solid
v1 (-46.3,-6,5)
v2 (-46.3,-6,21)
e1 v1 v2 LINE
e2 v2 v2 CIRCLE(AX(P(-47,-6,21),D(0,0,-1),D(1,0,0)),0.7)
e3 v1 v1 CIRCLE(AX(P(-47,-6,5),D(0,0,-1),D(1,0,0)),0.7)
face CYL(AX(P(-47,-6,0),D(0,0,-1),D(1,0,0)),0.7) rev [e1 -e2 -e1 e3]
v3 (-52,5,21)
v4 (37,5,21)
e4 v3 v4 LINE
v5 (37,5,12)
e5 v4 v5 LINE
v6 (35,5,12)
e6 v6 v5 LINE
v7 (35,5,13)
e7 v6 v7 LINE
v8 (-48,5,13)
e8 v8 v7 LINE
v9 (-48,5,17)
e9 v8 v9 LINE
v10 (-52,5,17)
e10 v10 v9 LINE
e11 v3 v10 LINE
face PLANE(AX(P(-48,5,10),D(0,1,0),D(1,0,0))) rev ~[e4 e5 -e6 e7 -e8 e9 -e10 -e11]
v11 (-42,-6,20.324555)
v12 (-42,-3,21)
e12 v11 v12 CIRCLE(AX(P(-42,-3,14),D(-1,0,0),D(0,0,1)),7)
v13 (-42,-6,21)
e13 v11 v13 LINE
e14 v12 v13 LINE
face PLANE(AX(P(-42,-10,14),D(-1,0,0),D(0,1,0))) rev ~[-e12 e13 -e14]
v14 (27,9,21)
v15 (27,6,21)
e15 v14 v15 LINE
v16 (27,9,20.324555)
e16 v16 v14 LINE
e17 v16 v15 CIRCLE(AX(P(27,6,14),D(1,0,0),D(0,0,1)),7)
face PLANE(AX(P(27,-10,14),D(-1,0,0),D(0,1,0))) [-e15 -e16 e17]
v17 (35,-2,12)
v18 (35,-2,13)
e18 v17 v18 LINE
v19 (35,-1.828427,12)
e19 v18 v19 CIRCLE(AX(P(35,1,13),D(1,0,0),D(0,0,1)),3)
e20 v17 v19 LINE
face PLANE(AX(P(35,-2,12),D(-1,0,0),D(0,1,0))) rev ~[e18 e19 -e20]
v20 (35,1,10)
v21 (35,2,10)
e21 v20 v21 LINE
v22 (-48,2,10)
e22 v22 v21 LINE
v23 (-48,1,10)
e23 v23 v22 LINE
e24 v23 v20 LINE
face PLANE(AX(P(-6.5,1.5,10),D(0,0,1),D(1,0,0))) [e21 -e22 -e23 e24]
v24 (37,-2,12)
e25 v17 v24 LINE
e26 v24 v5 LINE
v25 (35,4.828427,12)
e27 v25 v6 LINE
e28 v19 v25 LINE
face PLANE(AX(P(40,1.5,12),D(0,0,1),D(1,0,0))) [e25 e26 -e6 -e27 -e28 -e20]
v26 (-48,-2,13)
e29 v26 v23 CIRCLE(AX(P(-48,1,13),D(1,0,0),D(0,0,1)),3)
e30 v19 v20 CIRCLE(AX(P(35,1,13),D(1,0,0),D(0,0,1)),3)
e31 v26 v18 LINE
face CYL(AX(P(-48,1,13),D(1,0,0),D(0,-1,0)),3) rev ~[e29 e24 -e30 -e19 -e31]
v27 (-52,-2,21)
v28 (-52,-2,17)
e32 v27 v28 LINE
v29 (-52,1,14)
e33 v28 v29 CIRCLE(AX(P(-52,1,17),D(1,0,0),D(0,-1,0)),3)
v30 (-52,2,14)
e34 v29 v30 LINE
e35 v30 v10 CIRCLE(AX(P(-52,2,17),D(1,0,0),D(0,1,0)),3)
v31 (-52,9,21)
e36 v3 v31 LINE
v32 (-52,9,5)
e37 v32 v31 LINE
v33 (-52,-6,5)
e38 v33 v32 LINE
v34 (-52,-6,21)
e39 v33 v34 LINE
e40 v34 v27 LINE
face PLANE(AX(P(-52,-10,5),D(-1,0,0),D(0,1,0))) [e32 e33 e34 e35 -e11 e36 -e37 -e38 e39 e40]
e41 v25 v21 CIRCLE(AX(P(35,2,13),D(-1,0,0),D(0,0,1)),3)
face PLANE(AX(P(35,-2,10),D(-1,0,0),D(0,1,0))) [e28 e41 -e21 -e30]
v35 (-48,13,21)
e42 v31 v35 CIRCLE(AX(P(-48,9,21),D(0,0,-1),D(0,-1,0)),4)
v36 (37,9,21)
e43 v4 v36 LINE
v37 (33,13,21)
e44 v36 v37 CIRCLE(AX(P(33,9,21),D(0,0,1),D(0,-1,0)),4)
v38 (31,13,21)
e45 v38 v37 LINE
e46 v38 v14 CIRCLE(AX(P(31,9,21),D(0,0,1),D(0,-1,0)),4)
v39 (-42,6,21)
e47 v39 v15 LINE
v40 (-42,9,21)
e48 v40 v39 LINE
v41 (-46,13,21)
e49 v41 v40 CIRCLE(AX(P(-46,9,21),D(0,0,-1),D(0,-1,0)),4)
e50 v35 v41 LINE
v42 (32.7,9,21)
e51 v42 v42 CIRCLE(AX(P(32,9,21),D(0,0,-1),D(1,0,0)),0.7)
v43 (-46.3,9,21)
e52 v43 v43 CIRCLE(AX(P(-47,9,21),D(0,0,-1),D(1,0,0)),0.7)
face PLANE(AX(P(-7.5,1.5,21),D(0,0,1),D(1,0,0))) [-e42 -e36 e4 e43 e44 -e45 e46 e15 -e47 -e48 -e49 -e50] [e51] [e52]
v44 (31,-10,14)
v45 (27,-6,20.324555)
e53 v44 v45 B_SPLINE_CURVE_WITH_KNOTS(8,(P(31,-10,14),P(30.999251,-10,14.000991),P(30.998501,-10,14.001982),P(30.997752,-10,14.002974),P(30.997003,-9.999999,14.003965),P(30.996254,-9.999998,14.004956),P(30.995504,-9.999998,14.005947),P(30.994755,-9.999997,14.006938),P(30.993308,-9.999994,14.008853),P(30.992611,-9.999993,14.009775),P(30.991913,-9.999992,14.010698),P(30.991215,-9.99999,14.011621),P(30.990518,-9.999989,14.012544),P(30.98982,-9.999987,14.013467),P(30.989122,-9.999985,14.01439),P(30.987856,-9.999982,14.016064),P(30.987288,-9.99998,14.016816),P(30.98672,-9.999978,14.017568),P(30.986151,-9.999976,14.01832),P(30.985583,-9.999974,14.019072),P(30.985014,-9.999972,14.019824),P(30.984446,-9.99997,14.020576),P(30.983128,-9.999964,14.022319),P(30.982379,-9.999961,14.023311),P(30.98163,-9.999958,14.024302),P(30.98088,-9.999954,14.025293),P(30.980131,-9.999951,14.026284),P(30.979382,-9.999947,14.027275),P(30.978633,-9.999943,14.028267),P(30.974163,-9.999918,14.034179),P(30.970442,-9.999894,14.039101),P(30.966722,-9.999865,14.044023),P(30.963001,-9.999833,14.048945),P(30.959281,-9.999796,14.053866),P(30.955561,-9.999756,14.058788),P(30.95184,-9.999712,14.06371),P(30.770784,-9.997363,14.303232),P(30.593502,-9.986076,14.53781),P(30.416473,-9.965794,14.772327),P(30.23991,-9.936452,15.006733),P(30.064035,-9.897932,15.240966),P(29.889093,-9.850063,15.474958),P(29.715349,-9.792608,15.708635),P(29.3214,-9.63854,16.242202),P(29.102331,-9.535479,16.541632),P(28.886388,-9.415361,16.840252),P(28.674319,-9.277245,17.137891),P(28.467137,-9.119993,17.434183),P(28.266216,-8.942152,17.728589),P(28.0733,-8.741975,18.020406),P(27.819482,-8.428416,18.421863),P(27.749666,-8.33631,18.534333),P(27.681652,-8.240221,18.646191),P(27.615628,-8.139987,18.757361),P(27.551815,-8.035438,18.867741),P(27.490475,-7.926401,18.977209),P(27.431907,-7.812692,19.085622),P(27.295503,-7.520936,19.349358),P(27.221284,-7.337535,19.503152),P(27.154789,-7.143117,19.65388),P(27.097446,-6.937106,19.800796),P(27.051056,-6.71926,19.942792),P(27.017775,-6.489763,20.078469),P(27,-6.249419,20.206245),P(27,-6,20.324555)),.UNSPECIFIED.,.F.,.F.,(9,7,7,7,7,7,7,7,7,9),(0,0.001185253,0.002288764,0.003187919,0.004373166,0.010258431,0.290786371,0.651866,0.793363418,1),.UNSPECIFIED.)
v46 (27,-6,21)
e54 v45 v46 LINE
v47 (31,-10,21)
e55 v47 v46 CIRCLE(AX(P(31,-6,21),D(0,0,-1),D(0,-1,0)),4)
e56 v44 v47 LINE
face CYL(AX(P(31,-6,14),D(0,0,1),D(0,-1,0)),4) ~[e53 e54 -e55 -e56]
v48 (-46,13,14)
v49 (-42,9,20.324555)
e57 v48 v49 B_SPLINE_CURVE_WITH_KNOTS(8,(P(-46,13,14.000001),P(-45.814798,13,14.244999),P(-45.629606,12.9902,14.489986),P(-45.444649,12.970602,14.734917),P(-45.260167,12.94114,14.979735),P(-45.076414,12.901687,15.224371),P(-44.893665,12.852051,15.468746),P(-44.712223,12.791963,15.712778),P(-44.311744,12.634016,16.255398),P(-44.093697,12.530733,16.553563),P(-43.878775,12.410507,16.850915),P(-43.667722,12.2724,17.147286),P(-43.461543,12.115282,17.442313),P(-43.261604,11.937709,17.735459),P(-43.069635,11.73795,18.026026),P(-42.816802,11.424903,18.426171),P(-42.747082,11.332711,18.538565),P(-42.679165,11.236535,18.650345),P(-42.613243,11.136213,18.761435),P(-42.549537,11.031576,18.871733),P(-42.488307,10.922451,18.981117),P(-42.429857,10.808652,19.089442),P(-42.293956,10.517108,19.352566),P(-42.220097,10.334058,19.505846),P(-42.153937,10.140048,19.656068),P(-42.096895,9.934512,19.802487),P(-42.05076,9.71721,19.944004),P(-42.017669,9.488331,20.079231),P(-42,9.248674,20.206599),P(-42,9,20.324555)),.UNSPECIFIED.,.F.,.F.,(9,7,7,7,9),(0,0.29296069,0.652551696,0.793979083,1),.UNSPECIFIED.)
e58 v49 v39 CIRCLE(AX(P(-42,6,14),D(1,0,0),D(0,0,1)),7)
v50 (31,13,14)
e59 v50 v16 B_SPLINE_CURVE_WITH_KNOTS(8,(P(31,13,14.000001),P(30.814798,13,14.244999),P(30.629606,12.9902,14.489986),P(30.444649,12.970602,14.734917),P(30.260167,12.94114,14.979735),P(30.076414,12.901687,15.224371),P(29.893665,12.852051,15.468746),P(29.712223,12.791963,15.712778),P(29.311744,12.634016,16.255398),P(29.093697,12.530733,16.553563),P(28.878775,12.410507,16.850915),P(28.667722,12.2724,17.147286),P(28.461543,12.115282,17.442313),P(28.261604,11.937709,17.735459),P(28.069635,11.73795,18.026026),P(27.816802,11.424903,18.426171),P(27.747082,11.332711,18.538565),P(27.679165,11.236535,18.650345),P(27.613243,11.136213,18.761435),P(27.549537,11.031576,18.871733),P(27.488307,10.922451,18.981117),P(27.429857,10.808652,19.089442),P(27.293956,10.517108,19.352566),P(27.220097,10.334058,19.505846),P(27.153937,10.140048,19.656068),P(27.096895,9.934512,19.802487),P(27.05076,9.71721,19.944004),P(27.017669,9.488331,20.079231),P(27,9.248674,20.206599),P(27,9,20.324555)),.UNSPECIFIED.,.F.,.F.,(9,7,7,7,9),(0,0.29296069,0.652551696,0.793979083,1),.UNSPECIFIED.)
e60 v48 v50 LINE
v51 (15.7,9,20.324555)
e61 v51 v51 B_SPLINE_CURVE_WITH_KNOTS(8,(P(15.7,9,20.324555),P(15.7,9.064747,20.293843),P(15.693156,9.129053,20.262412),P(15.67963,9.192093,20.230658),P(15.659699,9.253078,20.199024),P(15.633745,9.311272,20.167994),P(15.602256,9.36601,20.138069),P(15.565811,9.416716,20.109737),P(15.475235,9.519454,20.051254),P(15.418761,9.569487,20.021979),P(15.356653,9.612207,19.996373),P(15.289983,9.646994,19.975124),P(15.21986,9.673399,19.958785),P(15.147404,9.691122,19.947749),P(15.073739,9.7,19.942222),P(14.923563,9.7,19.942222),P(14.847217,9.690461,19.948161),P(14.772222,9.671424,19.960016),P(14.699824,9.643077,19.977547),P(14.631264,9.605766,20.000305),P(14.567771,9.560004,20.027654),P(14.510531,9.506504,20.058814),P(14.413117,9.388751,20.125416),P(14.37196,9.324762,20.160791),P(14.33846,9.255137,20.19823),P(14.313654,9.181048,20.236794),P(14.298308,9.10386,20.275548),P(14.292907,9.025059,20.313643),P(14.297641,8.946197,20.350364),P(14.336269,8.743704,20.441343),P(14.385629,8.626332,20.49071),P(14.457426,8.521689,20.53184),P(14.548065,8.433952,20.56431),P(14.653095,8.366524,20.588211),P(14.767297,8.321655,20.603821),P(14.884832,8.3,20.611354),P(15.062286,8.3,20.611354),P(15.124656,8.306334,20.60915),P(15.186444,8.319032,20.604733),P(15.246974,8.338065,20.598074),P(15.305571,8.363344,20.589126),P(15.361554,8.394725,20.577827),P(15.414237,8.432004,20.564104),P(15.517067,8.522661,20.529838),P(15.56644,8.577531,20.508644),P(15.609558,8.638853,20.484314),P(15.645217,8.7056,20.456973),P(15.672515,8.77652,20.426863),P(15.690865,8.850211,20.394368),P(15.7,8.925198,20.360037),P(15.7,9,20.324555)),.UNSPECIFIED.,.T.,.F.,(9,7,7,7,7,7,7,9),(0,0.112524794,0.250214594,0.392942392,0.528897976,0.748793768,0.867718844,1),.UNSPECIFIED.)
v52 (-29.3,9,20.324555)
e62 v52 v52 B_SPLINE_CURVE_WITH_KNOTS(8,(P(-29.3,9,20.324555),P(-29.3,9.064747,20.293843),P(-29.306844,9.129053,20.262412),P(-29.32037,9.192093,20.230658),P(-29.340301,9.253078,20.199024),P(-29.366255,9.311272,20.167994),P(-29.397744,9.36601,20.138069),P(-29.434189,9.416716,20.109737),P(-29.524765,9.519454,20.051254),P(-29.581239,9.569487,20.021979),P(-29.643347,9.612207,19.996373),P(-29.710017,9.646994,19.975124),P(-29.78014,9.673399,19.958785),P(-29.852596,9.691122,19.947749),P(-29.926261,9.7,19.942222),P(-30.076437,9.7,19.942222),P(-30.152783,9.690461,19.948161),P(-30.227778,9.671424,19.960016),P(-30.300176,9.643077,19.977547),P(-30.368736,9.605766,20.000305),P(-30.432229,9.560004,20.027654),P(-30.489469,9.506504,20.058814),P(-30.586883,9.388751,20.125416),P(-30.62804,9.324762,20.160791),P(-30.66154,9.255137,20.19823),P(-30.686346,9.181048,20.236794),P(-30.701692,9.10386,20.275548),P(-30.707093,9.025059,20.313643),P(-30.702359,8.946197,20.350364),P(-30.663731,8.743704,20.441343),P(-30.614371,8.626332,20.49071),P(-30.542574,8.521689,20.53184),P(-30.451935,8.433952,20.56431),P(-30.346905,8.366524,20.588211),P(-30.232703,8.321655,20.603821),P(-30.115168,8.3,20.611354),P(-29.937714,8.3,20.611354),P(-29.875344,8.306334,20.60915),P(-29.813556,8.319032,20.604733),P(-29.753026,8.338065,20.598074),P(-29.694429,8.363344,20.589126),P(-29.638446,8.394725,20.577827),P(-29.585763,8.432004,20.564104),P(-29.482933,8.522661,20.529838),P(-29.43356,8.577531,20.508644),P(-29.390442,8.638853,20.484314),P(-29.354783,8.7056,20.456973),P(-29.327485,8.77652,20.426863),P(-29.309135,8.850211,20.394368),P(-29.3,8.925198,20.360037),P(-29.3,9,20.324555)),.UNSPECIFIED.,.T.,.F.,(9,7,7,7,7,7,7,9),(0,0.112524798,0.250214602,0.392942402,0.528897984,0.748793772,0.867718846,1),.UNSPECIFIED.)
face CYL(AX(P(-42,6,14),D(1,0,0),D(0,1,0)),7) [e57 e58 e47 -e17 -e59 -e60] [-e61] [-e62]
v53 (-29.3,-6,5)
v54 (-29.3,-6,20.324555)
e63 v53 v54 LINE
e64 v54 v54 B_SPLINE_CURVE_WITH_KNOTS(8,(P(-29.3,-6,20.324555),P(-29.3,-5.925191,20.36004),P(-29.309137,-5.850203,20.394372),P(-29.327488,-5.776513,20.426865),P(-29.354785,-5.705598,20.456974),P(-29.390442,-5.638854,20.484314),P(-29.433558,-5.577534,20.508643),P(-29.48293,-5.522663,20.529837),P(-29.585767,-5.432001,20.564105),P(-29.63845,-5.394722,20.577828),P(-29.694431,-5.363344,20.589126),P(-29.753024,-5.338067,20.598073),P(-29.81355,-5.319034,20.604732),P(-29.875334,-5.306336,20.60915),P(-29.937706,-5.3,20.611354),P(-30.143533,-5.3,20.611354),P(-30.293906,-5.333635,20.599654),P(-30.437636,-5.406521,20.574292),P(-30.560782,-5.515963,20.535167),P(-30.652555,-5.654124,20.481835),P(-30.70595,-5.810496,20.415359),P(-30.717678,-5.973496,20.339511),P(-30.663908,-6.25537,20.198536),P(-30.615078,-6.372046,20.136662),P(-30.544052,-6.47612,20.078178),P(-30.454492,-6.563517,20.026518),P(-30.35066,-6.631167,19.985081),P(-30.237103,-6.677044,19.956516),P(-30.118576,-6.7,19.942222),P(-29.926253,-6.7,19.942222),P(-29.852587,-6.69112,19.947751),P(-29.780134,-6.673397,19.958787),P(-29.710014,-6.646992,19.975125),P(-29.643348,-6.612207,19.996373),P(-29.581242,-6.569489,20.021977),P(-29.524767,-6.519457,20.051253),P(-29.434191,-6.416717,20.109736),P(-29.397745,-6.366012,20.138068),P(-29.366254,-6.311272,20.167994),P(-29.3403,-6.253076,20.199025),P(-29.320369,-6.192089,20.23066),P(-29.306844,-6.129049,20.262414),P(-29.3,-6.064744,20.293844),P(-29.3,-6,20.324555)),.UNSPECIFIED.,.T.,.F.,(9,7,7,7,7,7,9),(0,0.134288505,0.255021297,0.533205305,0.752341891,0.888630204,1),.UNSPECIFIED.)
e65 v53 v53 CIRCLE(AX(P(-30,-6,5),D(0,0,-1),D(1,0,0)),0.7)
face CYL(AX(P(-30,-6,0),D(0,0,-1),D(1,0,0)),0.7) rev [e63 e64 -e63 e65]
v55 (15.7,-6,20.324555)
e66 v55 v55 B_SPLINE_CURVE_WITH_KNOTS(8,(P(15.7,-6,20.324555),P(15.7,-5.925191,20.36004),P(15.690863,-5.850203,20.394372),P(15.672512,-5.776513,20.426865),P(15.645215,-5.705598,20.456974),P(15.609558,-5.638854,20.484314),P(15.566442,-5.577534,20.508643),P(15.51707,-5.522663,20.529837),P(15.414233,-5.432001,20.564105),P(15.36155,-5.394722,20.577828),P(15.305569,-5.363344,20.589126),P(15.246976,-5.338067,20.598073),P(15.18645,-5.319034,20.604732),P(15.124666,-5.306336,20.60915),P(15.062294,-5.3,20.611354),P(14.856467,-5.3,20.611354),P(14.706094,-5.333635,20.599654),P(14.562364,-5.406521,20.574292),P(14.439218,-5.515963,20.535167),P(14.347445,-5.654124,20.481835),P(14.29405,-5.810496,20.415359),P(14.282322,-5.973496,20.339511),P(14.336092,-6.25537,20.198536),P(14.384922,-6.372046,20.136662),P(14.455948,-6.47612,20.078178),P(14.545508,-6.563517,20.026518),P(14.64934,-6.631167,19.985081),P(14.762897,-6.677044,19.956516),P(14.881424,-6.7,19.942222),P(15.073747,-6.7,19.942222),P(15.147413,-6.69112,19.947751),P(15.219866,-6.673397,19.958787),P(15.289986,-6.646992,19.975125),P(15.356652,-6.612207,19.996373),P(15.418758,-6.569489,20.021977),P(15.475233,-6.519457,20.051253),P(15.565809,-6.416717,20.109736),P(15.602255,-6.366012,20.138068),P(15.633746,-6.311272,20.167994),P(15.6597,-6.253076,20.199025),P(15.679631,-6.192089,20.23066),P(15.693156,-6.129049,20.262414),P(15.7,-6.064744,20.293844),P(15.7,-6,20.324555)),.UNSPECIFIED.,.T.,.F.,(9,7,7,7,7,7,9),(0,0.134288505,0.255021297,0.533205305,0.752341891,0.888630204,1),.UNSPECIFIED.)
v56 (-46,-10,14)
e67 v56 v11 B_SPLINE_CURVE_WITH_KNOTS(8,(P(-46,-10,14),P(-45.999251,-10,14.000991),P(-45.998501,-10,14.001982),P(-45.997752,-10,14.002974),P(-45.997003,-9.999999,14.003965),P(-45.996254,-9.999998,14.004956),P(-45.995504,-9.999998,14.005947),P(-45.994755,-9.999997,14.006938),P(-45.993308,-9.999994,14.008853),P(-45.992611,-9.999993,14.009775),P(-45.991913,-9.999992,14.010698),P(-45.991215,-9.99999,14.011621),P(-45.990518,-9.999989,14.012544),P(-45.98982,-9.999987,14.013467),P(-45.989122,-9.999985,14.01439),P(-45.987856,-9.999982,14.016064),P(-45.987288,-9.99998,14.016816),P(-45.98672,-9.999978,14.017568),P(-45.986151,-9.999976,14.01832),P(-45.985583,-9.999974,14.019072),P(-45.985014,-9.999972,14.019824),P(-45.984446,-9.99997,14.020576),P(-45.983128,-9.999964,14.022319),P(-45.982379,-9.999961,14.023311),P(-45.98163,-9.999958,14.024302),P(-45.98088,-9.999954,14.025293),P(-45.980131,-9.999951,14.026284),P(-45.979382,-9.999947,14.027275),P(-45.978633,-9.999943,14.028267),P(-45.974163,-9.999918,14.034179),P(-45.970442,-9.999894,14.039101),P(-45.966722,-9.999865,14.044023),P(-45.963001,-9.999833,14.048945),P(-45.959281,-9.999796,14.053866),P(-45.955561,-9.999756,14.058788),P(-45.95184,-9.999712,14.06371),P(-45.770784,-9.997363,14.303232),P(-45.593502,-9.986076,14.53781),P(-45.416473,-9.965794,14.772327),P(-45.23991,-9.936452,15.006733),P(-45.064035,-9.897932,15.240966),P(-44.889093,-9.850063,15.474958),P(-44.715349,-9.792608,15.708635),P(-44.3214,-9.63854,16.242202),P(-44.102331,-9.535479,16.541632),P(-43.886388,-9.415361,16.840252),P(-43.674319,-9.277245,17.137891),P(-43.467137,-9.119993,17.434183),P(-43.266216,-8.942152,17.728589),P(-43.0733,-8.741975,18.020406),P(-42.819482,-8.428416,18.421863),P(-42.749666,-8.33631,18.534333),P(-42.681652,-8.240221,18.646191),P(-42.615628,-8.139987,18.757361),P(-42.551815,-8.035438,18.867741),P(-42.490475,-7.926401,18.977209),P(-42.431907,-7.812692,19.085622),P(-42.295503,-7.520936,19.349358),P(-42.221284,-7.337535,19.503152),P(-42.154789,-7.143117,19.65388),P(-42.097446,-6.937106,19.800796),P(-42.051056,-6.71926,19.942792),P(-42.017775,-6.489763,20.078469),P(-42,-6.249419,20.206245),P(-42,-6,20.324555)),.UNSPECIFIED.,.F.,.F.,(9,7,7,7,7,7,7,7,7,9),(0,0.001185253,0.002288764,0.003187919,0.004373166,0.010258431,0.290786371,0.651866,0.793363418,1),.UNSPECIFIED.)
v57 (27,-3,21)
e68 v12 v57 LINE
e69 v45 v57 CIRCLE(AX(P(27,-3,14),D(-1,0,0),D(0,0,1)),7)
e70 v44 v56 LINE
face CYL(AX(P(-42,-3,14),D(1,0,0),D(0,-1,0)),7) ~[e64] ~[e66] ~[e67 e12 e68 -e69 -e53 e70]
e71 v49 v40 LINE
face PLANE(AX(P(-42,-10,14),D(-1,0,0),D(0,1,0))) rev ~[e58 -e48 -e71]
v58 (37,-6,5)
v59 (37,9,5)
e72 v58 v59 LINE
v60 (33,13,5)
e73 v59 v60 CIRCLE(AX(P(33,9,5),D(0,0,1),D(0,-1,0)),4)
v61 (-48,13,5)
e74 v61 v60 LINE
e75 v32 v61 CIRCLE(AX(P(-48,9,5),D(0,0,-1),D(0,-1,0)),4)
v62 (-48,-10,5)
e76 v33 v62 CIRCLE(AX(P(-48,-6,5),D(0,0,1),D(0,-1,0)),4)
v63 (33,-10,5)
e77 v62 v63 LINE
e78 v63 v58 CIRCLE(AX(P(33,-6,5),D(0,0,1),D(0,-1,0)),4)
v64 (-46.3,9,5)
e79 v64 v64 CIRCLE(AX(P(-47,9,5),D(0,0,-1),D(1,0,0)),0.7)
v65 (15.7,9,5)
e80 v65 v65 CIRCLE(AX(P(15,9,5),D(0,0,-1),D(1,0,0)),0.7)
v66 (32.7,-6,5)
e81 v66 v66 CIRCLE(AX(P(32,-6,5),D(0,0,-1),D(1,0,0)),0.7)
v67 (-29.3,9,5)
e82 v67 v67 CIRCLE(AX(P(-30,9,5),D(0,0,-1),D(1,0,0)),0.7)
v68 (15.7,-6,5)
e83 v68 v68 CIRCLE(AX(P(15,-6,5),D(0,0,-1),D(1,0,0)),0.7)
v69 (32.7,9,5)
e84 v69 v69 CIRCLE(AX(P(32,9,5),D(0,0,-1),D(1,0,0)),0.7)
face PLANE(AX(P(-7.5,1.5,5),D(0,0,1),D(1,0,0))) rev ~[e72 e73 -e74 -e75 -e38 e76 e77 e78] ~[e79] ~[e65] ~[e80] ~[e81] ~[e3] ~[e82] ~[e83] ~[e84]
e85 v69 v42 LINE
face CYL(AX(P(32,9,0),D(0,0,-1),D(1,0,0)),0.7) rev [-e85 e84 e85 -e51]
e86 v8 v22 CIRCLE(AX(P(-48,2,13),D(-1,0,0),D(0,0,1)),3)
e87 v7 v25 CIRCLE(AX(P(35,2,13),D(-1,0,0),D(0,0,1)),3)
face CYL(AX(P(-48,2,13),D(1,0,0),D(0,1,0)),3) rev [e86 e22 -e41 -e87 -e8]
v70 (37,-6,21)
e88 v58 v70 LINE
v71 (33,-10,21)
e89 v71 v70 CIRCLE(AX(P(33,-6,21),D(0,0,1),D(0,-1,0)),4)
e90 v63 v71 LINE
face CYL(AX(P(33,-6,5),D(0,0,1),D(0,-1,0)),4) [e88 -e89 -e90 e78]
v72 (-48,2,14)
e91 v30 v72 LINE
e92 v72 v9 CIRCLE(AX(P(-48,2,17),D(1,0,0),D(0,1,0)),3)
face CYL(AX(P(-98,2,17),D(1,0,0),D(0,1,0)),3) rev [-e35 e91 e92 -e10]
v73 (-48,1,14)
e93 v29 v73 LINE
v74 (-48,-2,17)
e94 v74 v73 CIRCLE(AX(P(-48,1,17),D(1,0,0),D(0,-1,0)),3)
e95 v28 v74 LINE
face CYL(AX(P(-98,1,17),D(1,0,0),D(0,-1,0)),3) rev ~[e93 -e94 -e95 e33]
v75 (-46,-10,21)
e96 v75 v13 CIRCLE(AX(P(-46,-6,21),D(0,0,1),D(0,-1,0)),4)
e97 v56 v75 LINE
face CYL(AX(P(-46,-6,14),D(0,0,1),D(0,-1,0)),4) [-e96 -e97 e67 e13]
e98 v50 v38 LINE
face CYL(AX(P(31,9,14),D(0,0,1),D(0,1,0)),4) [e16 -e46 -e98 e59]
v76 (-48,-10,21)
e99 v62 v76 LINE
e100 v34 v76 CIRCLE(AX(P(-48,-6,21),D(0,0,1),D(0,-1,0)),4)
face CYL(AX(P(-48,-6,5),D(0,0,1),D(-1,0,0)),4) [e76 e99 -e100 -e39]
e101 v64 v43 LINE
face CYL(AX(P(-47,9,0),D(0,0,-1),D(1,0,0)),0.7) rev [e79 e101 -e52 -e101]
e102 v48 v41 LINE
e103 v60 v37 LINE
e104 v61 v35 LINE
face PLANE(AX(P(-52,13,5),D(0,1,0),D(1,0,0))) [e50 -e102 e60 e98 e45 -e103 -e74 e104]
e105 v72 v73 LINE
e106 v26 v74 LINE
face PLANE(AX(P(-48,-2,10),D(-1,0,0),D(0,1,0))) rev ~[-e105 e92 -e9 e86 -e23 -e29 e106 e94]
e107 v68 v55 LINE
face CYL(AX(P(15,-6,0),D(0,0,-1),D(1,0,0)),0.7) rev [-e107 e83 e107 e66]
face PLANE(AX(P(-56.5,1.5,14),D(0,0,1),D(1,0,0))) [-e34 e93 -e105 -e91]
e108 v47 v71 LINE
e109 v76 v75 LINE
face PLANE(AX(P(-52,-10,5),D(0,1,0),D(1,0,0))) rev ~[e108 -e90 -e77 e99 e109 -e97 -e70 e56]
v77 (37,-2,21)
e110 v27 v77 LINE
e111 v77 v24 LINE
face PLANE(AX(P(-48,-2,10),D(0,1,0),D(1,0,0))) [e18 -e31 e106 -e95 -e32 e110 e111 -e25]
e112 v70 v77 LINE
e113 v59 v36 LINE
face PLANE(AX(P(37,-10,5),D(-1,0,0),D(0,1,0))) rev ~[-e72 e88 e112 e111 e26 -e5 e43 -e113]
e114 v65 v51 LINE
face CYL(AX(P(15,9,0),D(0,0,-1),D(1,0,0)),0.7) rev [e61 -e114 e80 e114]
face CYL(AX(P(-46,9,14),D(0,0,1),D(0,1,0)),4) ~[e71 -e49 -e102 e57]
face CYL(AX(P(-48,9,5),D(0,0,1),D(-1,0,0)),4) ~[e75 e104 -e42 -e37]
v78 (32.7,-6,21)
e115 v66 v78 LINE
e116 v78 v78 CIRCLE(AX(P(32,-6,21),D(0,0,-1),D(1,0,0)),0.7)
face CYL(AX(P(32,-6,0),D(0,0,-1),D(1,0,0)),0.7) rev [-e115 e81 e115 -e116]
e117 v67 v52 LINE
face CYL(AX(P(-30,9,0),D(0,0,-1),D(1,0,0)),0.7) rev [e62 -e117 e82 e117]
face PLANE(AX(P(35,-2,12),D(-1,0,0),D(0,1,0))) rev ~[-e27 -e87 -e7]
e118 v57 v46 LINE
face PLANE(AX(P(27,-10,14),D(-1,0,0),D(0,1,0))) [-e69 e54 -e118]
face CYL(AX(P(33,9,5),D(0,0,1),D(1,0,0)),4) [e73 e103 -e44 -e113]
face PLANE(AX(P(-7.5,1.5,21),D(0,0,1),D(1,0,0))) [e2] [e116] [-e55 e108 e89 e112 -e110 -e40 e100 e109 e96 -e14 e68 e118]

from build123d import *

# Parameters (mm, degrees)
BOX_W             = 69
BOX_H             = 23
BOX_DEPTH         = 21
FILLET002039_R    = 7
BOX048_W          = 69
BOX048_H          = 23
BOX048_DEPTH      = 21
CYLINDER_R        = 0.7
CYLINDER_DEPTH    = 25
CYLINDER042_R     = 0.7
CYLINDER042_DEPTH = 25
CYLINDER043_R     = 0.7
CYLINDER043_DEPTH = 25
CYLINDER044_R     = 0.7
CYLINDER044_DEPTH = 25
CYLINDER045_R     = 0.7
CYLINDER045_DEPTH = 25
CYLINDER046_R     = 0.7
CYLINDER046_DEPTH = 25
CYLINDER047_R     = 0.7
CYLINDER047_DEPTH = 25
CYLINDER048_R     = 0.7
CYLINDER048_DEPTH = 25
BOX044_W          = 83
BOX044_H          = 7
BOX044_DEPTH      = 10
FILLET002036_R    = 3
BOX029_W          = 83
BOX029_H          = 7
BOX029_DEPTH      = 18
FILLET002035_R    = 3
BOX045_W          = 10
BOX045_H          = 7
BOX045_DEPTH      = 14
BOX046_W          = 89
BOX046_H          = 23
BOX046_DEPTH      = 16
FILLET_R          = 4
FILLET002040_R    = 4


with BuildPart() as fillet002039:
    # Box → Box (new body)
    with BuildSketch(Plane(origin=(-42, -10, 0), x_dir=(1, 0, 0), z_dir=(0, 0, 1))):
        with Locations((34.5, 11.5)):
            Rectangle(BOX_W, BOX_H)
    extrude(amount=BOX_DEPTH)

    # Fillet002039
    fillet002039_edges = [fillet002039.edges().sort_by_distance(p)[0] for p in [
        (-7.5, -10, 21),
        (-7.5, 13, 21),
    ]]
    fillet(fillet002039_edges, radius=FILLET002039_R)


with BuildPart() as cut011004:
    # Box048 → Box048 (new body)
    with BuildSketch(Plane(origin=(-42, -10, 14), x_dir=(1, 0, 0), z_dir=(0, 0, 1))):
        with Locations((34.5, 11.5)):
            Rectangle(BOX048_W, BOX048_H)
    extrude(amount=BOX048_DEPTH)

    # Cut011004: cut Fillet002039
    add(fillet002039.part, mode=Mode.SUBTRACT)


with BuildPart() as hubscrewholle001:
    # Cylinder → Cylinder (new body)
    with BuildSketch(Plane(origin=(-30, -6, 0), x_dir=(1, 0, 0), z_dir=(0, 0, 1))):
        Circle(CYLINDER_R)
    extrude(amount=CYLINDER_DEPTH)


with BuildPart() as hubscrewholle002:
    # Cylinder042 → Cylinder042 (new body)
    with BuildSketch(Plane(origin=(-30, 9, 0), x_dir=(1, 0, 0), z_dir=(0, 0, 1))):
        Circle(CYLINDER042_R)
    extrude(amount=CYLINDER042_DEPTH)


with BuildPart() as hubscrewholle003:
    # Cylinder043 → Cylinder043 (new body)
    with BuildSketch(Plane(origin=(15, -6, 0), x_dir=(1, 0, 0), z_dir=(0, 0, 1))):
        Circle(CYLINDER043_R)
    extrude(amount=CYLINDER043_DEPTH)


with BuildPart() as hubscrewholle004:
    # Cylinder044 → Cylinder044 (new body)
    with BuildSketch(Plane(origin=(15, 9, 0), x_dir=(1, 0, 0), z_dir=(0, 0, 1))):
        Circle(CYLINDER044_R)
    extrude(amount=CYLINDER044_DEPTH)


with BuildPart() as hubscrewholle005:
    # Cylinder045 → Cylinder045 (new body)
    with BuildSketch(Plane(origin=(-47, -6, 0), x_dir=(1, 0, 0), z_dir=(0, 0, 1))):
        Circle(CYLINDER045_R)
    extrude(amount=CYLINDER045_DEPTH)


with BuildPart() as hubscrewholle006:
    # Cylinder046 → Cylinder046 (new body)
    with BuildSketch(Plane(origin=(-47, 9, 0), x_dir=(1, 0, 0), z_dir=(0, 0, 1))):
        Circle(CYLINDER046_R)
    extrude(amount=CYLINDER046_DEPTH)


with BuildPart() as hubscrewholle007:
    # Cylinder047 → Cylinder047 (new body)
    with BuildSketch(Plane(origin=(32, 9, 0), x_dir=(1, 0, 0), z_dir=(0, 0, 1))):
        Circle(CYLINDER047_R)
    extrude(amount=CYLINDER047_DEPTH)


with BuildPart() as fusion033:
    # Cylinder048 → Cylinder048 (new body)
    with BuildSketch(Plane(origin=(32, -6, 0), x_dir=(1, 0, 0), z_dir=(0, 0, 1))):
        Circle(CYLINDER048_R)
    extrude(amount=CYLINDER048_DEPTH)

    # Fusion033: union HubScrewHolle001, HubScrewHolle002, HubScrewHolle003, HubScrewHolle004, HubScrewHolle005, HubScrewHolle006, HubScrewHolle007
    add(hubscrewholle001.part)
    add(hubscrewholle002.part)
    add(hubscrewholle003.part)
    add(hubscrewholle004.part)
    add(hubscrewholle005.part)
    add(hubscrewholle006.part)
    add(hubscrewholle007.part)


with BuildPart() as fillet002036:
    # Box044 → Box044 (new body)
    with BuildSketch(Plane(origin=(-50, 0, 4), x_dir=(1, 0, 0), z_dir=(0, 0, 1))):
        with Locations((41.5, 3.5)):
            Rectangle(BOX044_W, BOX044_H)
    extrude(amount=BOX044_DEPTH)

    # Fillet002036
    fillet002036_edges = [fillet002036.edges().sort_by_distance(p)[0] for p in [
        (-8.5, 0, 4),
        (-8.5, 0, 14),
        (-8.5, 7, 4),
        (-8.5, 7, 14),
    ]]
    fillet(fillet002036_edges, radius=FILLET002036_R)


with BuildPart() as fillet002035:
    # Box029 → Box029 (new body)
    with BuildSketch(Plane.XY):
        with Locations((41.5, 3.5)):
            Rectangle(BOX029_W, BOX029_H)
    extrude(amount=BOX029_DEPTH)

    # Fillet002035
    fillet002035_edges = [fillet002035.edges().sort_by_distance(p)[0] for p in [
        (41.5, 0, 0),
        (41.5, 0, 18),
        (41.5, 7, 0),
        (41.5, 7, 18),
    ]]
    fillet(fillet002035_edges, radius=FILLET002035_R)


with BuildPart() as fusion034:
    # Box045 → Box045 (new body)
    with BuildSketch(Plane(origin=(83, 0, 2), x_dir=(1, 0, 0), z_dir=(0, 0, 1))):
        with Locations((5, 3.5)):
            Rectangle(BOX045_W, BOX045_H)
    extrude(amount=BOX045_DEPTH)

    # Fusion032: union Fillet002036, Fillet002035
    add(fillet002036.part)
    add(fillet002035.part)


with BuildPart() as fusion034_1:
    # Fusion032 placement: moved
    add(fusion034.part.moved(Location((-48, -2, 10))))

    # Fusion034: union Fusion033
    add(fusion033.part)


with BuildPart() as hubholder:
    # Box046 → Box046 (new body)
    with BuildSketch(Plane(origin=(-52, -10, 5), x_dir=(1, 0, 0), z_dir=(0, 0, 1))):
        with Locations((44.5, 11.5)):
            Rectangle(BOX046_W, BOX046_H)
    extrude(amount=BOX046_DEPTH)

    # Fillet
    fillet_edges = [hubholder.edges().sort_by_distance(p)[0] for p in [
        (-52, -10, 13),
        (-52, 13, 13),
        (37, -10, 13),
        (37, 13, 13),
    ]]
    fillet(fillet_edges, radius=FILLET_R)

    # Cut009: cut Fusion034
    add(fusion034_1.part, mode=Mode.SUBTRACT)

    # Cut011005: cut Cut011004
    add(cut011004.part, mode=Mode.SUBTRACT)

    # Fillet002040
    fillet002040_edges = [hubholder.edges().sort_by_distance(p)[0] for p in [
        (-42, -10, 17.5),
        (27, -10, 17.5),
        (27, 13, 17.5),
        (-42, 13, 17.5),
    ]]
    fillet(fillet002040_edges, radius=FILLET002040_R)


solid = hubholder.part
